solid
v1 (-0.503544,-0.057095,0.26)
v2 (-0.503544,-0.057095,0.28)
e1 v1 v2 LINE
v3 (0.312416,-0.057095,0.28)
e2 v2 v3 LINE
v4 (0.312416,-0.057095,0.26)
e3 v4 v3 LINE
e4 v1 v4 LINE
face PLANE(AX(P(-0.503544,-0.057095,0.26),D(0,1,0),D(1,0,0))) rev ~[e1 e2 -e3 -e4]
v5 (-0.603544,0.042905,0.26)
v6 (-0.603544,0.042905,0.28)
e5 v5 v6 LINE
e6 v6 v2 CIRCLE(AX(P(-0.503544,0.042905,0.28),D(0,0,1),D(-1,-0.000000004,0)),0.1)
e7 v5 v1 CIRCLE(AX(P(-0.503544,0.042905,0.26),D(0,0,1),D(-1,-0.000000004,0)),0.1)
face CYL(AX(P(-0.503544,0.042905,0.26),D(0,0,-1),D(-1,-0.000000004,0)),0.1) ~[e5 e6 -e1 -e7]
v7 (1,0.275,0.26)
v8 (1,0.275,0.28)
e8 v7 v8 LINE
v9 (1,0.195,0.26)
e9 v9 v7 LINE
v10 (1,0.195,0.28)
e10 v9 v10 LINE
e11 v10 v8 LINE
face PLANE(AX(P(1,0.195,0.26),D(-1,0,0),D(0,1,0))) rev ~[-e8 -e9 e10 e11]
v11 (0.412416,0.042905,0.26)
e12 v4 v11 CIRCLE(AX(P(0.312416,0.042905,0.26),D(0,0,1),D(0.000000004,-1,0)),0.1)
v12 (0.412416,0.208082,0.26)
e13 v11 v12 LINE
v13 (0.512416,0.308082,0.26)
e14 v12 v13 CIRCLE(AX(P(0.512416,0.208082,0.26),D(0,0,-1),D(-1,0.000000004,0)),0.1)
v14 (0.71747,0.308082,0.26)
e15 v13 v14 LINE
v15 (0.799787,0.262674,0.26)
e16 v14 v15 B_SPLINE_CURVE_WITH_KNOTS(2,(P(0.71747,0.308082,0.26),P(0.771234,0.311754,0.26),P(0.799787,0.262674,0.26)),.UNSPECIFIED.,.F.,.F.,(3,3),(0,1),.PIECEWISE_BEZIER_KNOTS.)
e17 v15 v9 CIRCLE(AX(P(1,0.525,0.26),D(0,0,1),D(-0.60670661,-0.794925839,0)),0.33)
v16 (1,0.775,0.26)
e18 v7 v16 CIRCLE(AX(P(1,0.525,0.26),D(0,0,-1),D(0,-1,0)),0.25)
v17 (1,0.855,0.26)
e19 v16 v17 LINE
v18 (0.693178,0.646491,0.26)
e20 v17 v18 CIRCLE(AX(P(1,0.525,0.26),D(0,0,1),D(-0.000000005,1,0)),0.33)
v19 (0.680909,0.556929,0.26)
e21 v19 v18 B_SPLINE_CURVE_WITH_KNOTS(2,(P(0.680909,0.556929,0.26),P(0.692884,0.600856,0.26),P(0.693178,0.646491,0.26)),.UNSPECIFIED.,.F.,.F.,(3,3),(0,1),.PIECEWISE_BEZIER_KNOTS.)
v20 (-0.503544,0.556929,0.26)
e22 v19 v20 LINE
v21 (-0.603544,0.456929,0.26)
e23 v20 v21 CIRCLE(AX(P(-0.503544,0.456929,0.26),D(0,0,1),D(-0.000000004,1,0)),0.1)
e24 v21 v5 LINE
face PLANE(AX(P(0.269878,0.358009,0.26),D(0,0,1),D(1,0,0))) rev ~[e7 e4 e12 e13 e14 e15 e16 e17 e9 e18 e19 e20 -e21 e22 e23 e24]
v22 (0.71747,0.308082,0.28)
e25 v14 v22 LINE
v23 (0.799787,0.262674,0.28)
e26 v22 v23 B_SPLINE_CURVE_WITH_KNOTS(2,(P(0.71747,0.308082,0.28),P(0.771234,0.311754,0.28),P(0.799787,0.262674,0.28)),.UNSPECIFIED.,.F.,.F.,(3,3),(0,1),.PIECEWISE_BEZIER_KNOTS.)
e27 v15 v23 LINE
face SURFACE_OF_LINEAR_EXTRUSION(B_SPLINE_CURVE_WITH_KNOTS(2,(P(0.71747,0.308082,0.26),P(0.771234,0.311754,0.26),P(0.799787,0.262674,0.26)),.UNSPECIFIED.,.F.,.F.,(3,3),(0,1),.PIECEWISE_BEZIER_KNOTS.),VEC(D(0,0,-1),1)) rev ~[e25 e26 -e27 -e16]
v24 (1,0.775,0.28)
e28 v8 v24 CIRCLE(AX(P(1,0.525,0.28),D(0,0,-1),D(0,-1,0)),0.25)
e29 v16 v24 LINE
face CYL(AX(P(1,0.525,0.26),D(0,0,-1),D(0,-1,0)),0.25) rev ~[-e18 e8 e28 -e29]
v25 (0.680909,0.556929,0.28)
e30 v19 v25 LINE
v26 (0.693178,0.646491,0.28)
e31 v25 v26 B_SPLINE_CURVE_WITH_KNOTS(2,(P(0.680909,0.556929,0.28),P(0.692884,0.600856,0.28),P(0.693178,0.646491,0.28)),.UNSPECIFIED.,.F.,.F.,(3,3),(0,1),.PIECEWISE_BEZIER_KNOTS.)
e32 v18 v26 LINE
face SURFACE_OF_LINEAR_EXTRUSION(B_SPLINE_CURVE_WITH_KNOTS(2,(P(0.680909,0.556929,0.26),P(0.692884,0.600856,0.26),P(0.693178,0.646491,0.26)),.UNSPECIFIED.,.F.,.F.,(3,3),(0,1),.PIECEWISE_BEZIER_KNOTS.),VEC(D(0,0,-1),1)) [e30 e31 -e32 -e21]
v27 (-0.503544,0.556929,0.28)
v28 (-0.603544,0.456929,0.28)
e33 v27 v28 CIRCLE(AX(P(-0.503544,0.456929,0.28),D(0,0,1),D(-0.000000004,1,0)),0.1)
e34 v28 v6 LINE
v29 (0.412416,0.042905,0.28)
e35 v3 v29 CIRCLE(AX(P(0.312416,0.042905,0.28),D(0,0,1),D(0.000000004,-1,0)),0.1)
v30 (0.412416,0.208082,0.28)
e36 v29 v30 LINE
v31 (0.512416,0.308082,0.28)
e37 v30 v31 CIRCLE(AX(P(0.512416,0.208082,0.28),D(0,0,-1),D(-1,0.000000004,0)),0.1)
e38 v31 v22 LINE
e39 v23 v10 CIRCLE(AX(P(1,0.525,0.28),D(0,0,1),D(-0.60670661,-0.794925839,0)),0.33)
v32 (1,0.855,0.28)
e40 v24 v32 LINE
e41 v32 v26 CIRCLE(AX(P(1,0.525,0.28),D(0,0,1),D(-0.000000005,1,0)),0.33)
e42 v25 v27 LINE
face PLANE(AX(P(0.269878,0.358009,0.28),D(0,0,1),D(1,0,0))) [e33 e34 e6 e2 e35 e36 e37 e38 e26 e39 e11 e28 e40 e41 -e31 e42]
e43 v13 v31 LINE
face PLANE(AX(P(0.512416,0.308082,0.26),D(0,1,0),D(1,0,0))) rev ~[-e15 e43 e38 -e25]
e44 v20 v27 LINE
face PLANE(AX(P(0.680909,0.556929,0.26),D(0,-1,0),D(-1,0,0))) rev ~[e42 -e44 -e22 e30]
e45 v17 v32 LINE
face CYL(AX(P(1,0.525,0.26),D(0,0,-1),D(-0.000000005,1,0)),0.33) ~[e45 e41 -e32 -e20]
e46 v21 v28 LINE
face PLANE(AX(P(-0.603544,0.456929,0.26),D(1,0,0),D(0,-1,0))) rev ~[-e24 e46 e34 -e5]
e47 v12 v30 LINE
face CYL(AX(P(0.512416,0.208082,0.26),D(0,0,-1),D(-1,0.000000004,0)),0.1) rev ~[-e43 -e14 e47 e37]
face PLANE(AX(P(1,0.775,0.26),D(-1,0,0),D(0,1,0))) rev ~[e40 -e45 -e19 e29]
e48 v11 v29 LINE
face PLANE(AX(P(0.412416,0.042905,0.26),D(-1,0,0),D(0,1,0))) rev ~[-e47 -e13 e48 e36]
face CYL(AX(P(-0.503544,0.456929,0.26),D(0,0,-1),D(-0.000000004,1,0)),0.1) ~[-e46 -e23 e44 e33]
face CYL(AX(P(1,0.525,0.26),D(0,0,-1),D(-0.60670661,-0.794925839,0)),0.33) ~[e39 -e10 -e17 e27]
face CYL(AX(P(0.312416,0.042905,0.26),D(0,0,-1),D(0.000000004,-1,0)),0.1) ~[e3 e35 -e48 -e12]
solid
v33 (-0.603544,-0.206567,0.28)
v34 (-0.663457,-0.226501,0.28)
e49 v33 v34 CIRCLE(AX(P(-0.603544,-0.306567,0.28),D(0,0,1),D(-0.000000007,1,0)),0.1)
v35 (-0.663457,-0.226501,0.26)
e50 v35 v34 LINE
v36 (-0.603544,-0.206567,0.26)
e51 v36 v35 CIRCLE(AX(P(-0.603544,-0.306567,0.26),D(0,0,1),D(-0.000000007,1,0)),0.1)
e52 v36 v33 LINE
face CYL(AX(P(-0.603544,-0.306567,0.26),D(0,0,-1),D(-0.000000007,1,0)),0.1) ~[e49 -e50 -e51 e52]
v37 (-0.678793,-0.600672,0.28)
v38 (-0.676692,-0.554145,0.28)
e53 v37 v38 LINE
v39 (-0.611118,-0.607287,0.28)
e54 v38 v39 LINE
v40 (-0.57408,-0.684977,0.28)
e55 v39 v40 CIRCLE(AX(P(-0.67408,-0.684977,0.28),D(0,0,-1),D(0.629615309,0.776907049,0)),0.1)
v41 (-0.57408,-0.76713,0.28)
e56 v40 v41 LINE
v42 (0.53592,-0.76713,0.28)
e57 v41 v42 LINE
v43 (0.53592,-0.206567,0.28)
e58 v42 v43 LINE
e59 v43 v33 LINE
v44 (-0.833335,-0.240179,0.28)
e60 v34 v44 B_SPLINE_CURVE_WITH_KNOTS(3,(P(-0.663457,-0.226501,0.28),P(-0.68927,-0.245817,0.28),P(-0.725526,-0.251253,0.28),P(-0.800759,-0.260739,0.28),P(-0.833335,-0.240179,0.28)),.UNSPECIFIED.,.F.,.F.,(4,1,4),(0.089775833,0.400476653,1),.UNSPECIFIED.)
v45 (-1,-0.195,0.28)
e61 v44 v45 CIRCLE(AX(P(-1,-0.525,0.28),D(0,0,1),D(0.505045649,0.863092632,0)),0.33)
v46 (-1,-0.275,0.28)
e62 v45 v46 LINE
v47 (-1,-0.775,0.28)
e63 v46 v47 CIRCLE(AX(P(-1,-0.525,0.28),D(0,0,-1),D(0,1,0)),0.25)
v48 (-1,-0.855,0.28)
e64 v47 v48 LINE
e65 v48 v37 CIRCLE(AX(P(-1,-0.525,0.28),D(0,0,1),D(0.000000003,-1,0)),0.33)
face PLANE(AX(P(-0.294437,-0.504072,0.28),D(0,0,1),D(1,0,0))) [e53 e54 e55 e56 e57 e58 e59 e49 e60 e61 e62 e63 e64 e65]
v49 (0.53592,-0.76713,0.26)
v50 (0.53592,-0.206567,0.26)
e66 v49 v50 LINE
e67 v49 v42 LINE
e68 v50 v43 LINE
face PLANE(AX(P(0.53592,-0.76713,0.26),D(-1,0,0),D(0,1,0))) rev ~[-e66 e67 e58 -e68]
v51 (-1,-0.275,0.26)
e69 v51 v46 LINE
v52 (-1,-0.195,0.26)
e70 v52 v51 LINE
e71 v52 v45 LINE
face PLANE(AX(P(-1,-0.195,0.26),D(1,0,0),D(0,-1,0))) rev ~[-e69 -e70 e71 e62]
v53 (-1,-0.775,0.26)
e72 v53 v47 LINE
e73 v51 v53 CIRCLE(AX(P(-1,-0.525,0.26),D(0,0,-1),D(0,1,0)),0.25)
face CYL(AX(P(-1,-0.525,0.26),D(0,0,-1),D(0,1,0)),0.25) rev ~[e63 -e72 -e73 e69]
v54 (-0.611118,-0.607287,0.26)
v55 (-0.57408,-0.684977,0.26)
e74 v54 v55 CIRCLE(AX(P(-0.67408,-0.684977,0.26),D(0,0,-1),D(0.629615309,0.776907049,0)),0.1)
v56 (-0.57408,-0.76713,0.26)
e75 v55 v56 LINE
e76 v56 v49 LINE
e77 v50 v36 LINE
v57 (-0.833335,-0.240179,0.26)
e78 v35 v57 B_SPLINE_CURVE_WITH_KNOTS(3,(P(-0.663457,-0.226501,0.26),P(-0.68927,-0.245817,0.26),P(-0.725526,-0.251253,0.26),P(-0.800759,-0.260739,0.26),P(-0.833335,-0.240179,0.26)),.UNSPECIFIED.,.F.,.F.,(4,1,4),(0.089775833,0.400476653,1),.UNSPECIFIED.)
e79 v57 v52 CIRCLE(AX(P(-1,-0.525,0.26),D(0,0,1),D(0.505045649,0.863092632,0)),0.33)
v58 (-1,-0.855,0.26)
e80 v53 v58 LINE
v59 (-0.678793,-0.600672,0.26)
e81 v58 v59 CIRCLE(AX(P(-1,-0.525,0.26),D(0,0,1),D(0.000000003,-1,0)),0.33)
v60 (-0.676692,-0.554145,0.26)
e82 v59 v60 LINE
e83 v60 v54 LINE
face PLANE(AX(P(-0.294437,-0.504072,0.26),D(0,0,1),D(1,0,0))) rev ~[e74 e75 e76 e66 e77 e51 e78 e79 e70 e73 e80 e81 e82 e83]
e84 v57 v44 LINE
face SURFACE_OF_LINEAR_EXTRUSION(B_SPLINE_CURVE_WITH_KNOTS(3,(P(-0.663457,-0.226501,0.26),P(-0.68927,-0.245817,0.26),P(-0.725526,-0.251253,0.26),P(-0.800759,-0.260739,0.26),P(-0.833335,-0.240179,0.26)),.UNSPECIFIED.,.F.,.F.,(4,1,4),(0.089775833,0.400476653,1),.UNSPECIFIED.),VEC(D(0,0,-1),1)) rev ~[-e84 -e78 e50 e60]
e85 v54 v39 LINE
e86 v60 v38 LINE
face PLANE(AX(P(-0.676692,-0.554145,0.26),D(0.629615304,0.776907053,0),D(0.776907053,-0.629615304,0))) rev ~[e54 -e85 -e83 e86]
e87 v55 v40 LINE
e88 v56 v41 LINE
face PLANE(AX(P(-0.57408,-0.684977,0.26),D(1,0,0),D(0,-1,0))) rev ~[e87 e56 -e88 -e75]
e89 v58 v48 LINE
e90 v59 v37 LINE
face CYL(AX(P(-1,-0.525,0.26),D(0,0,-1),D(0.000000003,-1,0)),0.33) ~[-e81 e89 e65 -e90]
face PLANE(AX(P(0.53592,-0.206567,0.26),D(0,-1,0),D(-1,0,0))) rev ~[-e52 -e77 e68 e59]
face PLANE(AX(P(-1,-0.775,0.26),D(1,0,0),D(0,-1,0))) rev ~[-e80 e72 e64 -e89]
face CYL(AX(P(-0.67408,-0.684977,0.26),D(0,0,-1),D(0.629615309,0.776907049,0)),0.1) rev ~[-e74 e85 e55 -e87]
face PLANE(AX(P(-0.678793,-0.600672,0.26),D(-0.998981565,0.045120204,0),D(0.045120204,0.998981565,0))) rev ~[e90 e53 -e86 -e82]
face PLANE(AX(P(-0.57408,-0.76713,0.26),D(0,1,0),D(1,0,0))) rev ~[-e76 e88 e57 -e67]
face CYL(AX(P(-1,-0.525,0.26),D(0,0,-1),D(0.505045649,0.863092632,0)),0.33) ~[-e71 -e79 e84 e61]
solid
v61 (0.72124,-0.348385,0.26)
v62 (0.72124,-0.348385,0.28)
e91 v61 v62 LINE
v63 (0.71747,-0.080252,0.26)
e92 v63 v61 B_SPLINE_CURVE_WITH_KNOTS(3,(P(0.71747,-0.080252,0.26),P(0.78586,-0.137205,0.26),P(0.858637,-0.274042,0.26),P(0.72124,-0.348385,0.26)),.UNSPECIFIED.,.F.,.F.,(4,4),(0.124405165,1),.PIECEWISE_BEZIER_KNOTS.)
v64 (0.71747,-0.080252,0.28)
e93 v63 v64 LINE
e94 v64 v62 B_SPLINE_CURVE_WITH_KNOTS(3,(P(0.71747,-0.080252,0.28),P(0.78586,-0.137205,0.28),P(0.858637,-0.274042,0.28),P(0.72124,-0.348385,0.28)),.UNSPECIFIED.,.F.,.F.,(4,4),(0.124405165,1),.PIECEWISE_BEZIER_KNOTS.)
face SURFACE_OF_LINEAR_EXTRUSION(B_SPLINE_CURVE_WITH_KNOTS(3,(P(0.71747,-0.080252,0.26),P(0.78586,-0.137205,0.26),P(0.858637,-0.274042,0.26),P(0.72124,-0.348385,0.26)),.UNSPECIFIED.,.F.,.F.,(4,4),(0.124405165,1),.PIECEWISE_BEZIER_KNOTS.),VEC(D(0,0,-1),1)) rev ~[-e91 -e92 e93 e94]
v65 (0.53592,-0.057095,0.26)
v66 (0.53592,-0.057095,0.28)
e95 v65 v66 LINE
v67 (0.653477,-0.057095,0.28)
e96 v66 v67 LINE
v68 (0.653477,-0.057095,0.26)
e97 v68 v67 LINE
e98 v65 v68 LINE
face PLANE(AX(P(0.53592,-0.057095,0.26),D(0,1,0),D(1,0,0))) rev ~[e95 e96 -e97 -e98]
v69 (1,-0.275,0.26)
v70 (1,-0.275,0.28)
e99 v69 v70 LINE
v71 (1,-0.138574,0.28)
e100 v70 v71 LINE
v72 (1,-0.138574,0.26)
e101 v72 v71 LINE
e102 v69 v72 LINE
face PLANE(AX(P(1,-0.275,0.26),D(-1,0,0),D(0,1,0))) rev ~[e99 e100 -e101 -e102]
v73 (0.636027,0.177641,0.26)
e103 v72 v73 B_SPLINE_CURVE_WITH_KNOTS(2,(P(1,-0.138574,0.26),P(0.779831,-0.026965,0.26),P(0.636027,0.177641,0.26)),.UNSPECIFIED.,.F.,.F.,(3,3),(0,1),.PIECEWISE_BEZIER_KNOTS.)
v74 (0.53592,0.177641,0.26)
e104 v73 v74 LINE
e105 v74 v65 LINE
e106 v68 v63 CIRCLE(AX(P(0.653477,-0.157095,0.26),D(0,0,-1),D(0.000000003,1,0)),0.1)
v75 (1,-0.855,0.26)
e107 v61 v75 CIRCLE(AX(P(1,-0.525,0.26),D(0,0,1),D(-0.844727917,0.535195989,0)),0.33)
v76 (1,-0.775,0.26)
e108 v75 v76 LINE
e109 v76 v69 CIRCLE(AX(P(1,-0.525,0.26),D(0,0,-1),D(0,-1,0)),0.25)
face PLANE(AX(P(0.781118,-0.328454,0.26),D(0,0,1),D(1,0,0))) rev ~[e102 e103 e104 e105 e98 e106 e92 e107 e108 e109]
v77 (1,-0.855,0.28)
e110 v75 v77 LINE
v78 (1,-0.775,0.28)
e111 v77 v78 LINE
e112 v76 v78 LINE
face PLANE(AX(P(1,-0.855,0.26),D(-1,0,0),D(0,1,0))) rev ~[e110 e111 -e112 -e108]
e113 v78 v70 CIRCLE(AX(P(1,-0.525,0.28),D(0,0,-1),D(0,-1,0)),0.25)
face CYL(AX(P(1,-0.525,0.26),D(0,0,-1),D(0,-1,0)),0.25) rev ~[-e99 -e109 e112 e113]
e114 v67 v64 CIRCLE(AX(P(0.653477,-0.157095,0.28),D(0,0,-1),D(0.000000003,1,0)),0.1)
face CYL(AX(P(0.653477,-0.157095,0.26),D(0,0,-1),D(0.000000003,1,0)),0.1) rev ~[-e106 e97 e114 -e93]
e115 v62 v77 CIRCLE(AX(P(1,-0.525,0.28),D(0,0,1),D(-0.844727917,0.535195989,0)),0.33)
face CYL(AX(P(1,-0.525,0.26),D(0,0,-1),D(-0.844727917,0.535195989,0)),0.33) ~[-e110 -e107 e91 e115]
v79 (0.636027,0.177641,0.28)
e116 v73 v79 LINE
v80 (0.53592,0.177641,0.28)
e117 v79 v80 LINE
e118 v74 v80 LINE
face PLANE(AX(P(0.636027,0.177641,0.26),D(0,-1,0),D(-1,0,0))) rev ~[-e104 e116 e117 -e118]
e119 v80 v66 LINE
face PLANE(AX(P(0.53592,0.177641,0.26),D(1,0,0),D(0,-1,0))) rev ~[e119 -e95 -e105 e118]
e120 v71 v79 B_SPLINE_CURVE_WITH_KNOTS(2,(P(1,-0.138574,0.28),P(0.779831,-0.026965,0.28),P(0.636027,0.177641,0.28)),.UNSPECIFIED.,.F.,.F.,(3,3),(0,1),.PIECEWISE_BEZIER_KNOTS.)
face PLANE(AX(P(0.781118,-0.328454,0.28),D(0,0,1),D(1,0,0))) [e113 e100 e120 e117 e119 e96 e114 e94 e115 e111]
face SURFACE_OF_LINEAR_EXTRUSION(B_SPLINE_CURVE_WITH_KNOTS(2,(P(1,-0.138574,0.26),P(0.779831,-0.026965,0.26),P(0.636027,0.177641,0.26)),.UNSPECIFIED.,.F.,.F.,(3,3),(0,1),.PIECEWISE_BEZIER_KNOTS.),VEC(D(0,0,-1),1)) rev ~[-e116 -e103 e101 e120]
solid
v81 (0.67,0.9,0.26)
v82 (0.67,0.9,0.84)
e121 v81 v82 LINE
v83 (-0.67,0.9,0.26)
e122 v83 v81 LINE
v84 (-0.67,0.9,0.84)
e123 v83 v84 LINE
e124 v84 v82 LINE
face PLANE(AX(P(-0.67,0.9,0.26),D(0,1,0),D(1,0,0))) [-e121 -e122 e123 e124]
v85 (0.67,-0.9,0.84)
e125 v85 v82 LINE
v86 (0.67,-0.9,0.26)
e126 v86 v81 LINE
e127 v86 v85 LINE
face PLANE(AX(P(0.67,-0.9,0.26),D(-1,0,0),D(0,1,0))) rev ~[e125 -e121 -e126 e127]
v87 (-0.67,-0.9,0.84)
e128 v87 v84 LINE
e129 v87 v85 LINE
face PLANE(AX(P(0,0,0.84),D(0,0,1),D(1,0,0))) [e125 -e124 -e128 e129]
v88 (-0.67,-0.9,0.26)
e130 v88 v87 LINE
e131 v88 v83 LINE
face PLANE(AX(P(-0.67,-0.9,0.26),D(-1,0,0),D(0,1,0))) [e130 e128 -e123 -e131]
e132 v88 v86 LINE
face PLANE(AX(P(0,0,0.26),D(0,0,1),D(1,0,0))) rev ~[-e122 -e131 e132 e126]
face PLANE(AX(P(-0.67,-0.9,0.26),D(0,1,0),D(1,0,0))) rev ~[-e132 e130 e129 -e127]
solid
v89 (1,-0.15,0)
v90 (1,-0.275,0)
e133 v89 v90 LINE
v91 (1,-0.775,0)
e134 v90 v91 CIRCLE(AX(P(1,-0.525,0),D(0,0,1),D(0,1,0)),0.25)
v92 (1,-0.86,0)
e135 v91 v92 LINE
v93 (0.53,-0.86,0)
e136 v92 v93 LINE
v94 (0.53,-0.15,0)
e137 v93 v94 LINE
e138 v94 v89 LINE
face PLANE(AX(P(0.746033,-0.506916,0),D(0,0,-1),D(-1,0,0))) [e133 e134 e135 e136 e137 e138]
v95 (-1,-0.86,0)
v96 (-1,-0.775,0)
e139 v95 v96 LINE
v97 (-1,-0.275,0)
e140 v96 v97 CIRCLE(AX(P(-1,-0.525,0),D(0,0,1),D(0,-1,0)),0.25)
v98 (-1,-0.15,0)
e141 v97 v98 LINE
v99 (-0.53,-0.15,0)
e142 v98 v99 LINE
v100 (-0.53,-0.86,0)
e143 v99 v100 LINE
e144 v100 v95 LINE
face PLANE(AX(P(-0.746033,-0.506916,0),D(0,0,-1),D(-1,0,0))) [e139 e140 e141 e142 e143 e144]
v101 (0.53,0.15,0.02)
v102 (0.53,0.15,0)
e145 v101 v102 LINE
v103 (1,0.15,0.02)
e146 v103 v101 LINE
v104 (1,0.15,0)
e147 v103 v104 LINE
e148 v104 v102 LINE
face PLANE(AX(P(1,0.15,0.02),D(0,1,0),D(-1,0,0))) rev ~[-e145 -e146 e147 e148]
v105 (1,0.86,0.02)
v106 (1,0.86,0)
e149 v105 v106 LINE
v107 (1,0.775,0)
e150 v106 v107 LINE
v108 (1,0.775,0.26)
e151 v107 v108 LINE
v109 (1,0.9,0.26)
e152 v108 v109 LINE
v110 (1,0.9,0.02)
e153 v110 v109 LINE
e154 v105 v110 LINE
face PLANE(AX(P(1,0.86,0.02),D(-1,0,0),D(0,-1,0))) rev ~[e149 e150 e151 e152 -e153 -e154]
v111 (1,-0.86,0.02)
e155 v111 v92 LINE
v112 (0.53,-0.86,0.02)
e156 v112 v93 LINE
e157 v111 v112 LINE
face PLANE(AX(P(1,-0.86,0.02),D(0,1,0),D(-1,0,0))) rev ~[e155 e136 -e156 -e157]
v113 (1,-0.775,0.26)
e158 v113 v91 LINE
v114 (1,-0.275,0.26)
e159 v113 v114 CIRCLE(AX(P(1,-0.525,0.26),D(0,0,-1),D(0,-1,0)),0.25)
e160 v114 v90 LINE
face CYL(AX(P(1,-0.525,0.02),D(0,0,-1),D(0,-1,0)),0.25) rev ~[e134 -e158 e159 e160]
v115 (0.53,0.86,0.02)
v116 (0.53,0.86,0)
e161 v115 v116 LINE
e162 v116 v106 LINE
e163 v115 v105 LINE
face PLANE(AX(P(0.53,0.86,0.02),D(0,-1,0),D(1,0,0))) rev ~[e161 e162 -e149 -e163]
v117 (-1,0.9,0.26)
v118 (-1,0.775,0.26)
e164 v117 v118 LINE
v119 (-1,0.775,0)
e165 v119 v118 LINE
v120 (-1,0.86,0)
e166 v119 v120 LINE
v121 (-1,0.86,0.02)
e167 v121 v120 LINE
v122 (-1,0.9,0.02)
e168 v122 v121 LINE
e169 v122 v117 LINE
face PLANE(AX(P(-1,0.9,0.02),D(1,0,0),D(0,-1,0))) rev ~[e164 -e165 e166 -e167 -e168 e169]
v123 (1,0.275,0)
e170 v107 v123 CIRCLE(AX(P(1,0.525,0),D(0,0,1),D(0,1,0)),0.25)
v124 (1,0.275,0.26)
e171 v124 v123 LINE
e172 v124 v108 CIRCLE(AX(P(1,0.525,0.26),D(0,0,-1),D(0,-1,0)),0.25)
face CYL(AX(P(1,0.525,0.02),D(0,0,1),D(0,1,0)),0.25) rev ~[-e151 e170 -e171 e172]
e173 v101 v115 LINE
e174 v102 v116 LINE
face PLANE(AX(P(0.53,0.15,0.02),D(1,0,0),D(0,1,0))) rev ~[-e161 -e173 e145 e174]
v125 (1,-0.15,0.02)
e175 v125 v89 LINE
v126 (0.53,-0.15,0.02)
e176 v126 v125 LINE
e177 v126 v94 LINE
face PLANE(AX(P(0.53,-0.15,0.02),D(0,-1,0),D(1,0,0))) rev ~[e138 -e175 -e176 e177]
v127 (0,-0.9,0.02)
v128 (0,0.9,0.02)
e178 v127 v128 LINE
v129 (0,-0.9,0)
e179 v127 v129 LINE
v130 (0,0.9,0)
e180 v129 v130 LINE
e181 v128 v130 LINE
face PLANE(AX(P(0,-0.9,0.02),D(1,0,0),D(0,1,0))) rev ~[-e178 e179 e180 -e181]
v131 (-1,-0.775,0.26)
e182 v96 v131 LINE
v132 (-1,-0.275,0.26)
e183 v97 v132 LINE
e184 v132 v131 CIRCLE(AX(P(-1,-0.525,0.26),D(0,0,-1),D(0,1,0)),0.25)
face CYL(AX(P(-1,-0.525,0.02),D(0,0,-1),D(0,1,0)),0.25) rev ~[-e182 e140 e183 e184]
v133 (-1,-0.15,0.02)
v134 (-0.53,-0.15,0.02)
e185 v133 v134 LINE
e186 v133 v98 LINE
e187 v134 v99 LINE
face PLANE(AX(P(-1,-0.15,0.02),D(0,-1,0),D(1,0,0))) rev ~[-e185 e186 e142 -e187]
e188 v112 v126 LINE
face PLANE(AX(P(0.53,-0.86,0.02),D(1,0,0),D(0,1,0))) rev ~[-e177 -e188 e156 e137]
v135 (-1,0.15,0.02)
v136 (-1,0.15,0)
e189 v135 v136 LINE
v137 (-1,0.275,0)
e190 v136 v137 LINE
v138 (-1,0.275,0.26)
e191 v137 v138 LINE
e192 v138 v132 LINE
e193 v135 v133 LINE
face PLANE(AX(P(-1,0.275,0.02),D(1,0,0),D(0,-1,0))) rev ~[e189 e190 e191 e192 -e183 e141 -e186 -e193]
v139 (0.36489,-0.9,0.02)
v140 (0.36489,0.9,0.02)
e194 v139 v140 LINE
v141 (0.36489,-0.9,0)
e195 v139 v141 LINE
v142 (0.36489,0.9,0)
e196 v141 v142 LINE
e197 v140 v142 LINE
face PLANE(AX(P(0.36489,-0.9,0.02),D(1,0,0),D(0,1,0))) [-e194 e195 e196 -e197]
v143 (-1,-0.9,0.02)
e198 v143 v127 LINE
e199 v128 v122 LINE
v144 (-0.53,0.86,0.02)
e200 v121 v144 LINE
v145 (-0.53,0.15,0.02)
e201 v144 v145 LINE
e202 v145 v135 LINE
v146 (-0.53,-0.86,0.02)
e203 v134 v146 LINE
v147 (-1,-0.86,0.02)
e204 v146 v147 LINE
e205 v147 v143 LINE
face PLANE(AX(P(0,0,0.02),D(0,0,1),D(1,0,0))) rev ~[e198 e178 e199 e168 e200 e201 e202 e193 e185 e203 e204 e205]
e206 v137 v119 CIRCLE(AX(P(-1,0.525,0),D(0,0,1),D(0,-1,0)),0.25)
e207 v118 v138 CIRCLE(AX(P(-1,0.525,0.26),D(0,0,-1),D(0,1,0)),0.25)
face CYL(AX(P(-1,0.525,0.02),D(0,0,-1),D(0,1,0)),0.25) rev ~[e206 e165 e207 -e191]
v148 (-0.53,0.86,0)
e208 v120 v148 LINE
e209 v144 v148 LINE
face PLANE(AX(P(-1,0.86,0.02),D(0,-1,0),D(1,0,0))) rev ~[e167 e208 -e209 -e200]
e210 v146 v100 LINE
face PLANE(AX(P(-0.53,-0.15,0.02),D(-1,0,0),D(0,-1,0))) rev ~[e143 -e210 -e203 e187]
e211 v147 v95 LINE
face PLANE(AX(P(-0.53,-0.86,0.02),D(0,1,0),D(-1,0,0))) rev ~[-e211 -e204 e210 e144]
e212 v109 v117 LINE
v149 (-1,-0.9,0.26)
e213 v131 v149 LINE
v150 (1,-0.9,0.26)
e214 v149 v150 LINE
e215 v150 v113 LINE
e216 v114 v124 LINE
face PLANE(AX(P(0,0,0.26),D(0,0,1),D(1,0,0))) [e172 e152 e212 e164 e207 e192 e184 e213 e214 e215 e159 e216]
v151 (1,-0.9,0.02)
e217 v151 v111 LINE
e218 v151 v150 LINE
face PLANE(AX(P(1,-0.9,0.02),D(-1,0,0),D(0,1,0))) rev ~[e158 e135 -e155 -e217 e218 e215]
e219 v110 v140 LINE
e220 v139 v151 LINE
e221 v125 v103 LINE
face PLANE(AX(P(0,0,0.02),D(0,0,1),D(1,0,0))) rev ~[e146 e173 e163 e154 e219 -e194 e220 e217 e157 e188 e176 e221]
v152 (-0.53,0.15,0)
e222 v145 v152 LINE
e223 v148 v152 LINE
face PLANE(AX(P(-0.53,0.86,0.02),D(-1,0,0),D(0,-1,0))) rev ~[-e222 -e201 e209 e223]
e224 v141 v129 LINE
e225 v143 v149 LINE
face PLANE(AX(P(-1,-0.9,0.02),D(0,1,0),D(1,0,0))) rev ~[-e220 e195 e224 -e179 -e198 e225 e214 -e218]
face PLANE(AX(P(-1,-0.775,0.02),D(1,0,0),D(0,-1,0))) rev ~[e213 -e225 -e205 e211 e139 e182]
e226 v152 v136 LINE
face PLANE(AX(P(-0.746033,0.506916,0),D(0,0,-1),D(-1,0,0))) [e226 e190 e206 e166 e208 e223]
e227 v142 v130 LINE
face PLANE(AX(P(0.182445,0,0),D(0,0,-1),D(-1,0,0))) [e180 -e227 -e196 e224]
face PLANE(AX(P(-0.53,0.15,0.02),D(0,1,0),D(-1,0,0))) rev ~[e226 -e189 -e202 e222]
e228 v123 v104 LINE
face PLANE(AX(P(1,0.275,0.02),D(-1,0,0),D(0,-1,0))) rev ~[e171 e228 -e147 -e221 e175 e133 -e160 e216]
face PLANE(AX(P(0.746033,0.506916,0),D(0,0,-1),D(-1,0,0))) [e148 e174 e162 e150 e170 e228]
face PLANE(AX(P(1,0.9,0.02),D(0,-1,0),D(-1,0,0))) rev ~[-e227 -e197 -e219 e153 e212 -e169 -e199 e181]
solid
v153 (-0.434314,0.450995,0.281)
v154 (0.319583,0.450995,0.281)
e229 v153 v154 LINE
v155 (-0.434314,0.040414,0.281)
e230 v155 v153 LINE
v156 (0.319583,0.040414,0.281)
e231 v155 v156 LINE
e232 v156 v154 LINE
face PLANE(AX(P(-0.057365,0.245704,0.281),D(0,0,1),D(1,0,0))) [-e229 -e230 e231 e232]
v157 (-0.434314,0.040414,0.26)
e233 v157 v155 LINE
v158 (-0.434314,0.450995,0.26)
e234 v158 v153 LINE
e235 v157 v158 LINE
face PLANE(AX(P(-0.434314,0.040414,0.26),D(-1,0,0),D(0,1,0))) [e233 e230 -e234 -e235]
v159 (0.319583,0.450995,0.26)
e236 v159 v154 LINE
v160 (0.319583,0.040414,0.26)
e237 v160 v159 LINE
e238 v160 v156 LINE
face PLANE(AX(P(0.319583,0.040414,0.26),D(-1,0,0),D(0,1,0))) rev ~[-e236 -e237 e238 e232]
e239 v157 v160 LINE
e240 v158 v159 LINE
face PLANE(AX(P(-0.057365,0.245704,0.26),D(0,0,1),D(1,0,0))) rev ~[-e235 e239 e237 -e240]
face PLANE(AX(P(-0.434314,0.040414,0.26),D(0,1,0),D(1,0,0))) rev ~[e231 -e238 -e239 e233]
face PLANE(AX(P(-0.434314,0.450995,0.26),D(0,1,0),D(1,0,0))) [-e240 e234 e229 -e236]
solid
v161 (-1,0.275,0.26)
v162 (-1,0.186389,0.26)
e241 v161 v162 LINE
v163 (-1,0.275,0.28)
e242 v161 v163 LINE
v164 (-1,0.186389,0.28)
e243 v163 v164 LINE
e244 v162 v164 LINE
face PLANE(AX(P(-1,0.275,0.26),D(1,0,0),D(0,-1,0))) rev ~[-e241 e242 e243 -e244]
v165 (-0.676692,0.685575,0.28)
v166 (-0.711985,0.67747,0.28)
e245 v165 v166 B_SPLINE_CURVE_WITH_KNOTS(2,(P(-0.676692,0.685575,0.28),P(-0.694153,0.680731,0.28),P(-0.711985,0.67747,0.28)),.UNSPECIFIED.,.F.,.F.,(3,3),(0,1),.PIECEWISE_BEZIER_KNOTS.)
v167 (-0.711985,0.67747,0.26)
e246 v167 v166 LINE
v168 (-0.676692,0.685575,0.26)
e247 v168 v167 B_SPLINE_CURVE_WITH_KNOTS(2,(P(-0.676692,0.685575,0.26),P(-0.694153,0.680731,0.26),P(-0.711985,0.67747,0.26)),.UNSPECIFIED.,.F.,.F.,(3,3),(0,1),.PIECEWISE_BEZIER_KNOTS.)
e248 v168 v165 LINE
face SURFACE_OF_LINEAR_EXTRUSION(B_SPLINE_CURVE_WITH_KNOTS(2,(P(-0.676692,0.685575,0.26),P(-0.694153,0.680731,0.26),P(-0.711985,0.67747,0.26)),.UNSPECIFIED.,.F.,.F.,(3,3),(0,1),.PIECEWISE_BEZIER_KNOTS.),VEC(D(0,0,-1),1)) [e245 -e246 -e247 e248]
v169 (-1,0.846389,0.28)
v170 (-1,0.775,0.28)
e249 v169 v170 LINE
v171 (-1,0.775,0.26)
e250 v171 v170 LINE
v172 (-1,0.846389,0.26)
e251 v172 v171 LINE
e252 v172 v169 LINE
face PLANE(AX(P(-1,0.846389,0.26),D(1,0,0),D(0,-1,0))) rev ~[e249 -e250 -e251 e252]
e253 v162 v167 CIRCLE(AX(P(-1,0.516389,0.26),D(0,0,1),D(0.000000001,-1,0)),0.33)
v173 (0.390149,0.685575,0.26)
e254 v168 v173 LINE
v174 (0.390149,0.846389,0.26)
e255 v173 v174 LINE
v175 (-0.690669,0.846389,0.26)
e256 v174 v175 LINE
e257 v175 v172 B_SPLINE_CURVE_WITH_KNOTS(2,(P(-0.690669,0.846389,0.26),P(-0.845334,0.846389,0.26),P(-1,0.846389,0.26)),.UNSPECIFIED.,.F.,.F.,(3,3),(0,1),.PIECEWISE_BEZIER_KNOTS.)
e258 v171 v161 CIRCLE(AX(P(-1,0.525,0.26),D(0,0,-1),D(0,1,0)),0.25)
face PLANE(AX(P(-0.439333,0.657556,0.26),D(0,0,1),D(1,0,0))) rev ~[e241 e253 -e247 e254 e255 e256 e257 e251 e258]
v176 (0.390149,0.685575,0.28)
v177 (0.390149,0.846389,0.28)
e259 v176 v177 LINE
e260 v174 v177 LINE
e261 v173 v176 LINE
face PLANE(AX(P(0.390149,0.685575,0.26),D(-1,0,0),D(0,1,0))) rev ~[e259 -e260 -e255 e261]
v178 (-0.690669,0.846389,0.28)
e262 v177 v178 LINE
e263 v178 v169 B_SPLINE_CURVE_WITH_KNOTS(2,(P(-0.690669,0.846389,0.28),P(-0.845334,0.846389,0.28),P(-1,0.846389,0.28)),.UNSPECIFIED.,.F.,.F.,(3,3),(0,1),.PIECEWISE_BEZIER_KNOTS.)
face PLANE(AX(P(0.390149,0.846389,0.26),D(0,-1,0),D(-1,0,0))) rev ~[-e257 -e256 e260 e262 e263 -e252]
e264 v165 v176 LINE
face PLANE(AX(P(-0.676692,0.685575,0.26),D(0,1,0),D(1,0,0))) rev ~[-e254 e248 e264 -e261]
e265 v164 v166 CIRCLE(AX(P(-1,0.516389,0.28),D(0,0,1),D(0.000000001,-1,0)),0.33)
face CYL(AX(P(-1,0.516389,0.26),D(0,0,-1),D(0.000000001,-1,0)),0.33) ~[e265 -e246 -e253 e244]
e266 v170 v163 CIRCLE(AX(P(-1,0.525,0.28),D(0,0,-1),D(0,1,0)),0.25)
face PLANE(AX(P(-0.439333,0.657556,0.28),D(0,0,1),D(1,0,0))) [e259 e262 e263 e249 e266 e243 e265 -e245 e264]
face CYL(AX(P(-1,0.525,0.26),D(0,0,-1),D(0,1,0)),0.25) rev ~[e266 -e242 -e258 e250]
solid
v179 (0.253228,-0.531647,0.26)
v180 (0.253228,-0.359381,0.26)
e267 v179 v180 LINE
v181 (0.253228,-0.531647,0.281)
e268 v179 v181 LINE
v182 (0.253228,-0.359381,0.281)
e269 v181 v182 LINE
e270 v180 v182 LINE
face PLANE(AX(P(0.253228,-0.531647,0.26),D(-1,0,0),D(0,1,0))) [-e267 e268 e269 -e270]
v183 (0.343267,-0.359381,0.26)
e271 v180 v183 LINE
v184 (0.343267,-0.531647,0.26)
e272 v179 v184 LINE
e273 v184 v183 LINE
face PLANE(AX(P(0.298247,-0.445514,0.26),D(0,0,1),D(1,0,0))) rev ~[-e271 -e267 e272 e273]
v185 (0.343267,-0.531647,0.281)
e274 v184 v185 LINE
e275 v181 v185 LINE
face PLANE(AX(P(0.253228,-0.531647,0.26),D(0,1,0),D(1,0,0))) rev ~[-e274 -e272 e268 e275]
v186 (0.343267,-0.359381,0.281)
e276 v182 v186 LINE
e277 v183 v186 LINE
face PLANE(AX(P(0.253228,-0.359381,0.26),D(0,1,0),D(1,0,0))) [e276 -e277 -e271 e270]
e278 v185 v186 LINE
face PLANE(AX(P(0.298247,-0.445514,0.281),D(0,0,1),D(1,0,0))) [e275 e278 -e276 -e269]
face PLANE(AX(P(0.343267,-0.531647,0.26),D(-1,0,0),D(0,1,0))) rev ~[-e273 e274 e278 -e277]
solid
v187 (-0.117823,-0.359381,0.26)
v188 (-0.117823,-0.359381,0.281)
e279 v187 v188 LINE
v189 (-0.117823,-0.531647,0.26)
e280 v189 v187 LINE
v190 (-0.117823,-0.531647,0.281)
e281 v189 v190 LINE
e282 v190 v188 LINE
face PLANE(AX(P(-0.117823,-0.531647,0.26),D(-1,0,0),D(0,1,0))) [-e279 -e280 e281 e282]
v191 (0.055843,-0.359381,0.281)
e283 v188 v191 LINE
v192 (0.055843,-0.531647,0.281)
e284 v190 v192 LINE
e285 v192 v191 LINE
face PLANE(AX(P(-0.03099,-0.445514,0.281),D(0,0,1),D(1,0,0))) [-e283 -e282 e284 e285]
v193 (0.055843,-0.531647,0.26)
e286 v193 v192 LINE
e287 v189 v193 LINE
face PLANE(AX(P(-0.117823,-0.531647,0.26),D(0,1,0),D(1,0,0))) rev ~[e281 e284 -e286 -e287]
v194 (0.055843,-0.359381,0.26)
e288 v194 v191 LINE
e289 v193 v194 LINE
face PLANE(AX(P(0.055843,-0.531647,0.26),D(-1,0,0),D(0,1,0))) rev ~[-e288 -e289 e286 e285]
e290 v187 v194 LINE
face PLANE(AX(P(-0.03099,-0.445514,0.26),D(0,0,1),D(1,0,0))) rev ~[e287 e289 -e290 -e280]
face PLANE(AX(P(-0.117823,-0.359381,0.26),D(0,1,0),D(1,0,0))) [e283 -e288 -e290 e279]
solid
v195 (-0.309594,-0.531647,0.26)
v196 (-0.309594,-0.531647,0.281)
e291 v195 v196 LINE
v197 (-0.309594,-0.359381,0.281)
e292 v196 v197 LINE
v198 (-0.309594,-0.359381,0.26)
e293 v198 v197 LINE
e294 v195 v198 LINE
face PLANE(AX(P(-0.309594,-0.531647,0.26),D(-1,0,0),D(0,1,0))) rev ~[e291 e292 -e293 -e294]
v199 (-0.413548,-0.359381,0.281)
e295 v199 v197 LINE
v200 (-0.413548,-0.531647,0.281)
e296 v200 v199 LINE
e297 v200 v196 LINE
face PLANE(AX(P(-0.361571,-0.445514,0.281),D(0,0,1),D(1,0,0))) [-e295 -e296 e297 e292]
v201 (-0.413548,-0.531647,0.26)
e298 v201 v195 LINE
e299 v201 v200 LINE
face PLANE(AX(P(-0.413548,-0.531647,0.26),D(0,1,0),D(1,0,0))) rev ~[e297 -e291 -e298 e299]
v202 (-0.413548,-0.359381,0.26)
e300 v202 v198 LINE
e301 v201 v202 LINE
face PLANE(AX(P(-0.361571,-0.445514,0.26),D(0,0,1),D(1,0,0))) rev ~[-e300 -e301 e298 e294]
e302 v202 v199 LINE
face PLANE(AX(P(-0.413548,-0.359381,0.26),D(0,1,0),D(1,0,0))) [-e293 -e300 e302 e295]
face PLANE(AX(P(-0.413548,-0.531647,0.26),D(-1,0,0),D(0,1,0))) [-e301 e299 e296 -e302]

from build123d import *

# Parameters (mm, degrees)
BOSS_EXTRUDE1_DEPTH   = 0.24
SKETCH3_W             = 0.364889656
SKETCH3_H             = 1.8
BOSS_EXTRUDE2_DEPTH   = 0.02
BOSS_EXTRUDE3_DEPTH   = 0.02
BOSS_EXTRUDE3_2_DEPTH = 0.02
BOSS_EXTRUDE3_3_DEPTH = 0.02
BOSS_EXTRUDE3_4_DEPTH = 0.02
SKETCH5_W             = 0.753896915
SKETCH5_H             = 0.410580729
BOSS_EXTRUDE4_DEPTH   = 0.021
SKETCH5_W_2           = 0.173666543
SKETCH5_H_2           = 0.172266029
BOSS_EXTRUDE4_2_DEPTH = 0.021
SKETCH5_W_3           = 0.103954437
BOSS_EXTRUDE4_3_DEPTH = 0.021
SKETCH5_W_4           = 0.090039485
BOSS_EXTRUDE4_4_DEPTH = 0.021
SKETCH6_W             = 1.34
SKETCH6_H             = 1.8
BOSS_EXTRUDE5_DEPTH   = 0.58


with BuildPart() as part:
    # Sketch2 → Boss-Extrude1 (new body)
    with BuildSketch(Plane(origin=(0, 0, 0.02), x_dir=(-1, 0, 0), z_dir=(0, 0, -1))):
        with BuildLine():
            Line((1, -0.9), (-1, -0.9))
            Line((-1, -0.9), (-1, -0.775))
            ThreePointArc((-1, -0.775), (-0.75, -0.525), (-1, -0.275))
            Line((-1, -0.275), (-1, 0.275))
            ThreePointArc((-1, 0.275), (-0.75, 0.525), (-1, 0.775))
            Line((-1, 0.775), (-1, 0.9))
            Line((-1, 0.9), (1, 0.9))
            Line((1, 0.9), (1, 0.775))
            ThreePointArc((1, 0.775), (0.75, 0.525), (1, 0.275))
            Line((1, 0.275), (1, -0.275))
            ThreePointArc((1, -0.275), (0.75, -0.525), (1, -0.775))
            Line((1, -0.775), (1, -0.9))
        make_face()
    extrude(amount=-BOSS_EXTRUDE1_DEPTH)

    # Sketch3 → Boss-Extrude2 (add)
    with BuildSketch(Plane(origin=(0, 0, 0.02), x_dir=(-1, 0, 0), z_dir=(0, 0, -1))):
        with BuildLine():
            ThreePointArc((-1, 0.775), (-0.75, 0.525), (-1, 0.275))
            Line((-1, 0.275), (-1, 0.15))
            Line((-1, 0.15), (-0.53, 0.15))
            Line((-0.53, 0.15), (-0.53, 0.86))
            Line((-0.53, 0.86), (-1, 0.86))
            Line((-1, 0.86), (-1, 0.775))
        make_face()
        with BuildLine():
            Line((1, 0.775), (1, 0.86))
            Line((1, 0.86), (0.53, 0.86))
            Line((0.53, 0.86), (0.53, 0.15))
            Line((0.53, 0.15), (1, 0.15))
            Line((1, 0.15), (1, 0.275))
            ThreePointArc((1, 0.275), (0.75, 0.525), (1, 0.775))
        make_face()
        with BuildLine():
            Line((0.53, -0.86), (1, -0.86))
            Line((1, -0.86), (1, -0.775))
            ThreePointArc((1, -0.775), (0.75, -0.525), (1, -0.275))
            Line((1, -0.275), (1, -0.15))
            Line((1, -0.15), (0.53, -0.15))
            Line((0.53, -0.15), (0.53, -0.86))
        make_face()
        with BuildLine():
            Line((-0.53, -0.15), (-1, -0.15))
            Line((-1, -0.15), (-1, -0.275))
            ThreePointArc((-1, -0.275), (-0.75, -0.525), (-1, -0.775))
            Line((-1, -0.775), (-1, -0.86))
            Line((-1, -0.86), (-0.53, -0.86))
            Line((-0.53, -0.86), (-0.53, -0.15))
        make_face()
        with Locations((-0.182444828, 0)):
            Rectangle(SKETCH3_W, SKETCH3_H)
    extrude(amount=BOSS_EXTRUDE2_DEPTH)


with BuildPart() as body_2:
    # Sketch4 → Boss-Extrude3 (new body)
    with BuildSketch(Plane.XY.offset(0.26)):
        with BuildLine():
            Line((0.390148762, 0.846389186), (-0.69066899, 0.846389186))
            add(Edge.make_bspline(
                [(-0.69066899, 0.846389186), (-0.845334495, 0.846389186), (-1, 0.846389186)],
                knots=[0, 0, 0, 1, 1, 1], degree=2))
            Line((-1, 0.846389186), (-1, 0.775))
            ThreePointArc((-1, 0.775), (-0.75, 0.525), (-1, 0.275))
            Line((-1, 0.275), (-1, 0.186389186))
            ThreePointArc((-1, 0.186389186), (-0.715345164, 0.349441217), (-0.711984565, 0.677470251))
            add(Edge.make_bspline(
                [(-0.676691892, 0.685575063), (-0.694152628, 0.680731002), (-0.711984565, 0.677470251)],
                knots=[0, 0, 0, 1, 1, 1], degree=2))
            Line((-0.676691892, 0.685575063), (0.390148762, 0.685575063))
            Line((0.390148762, 0.685575063), (0.390148762, 0.846389186))
        make_face()
    extrude(amount=BOSS_EXTRUDE3_DEPTH)


with BuildPart() as body_3:
    # Sketch4 → Boss-Extrude3 2 (new body)
    with BuildSketch(Plane.XY.offset(0.26)):
        with BuildLine():
            Line((1, 0.775), (1, 0.855))
            ThreePointArc((1, 0.855), (0.814516991, 0.797939651), (0.69317777, 0.646491232))
            add(Edge.make_bspline(
                [(0.680908874, 0.556929298), (0.69288427, 0.60085648), (0.69317777, 0.646491232)],
                knots=[0, 0, 0, 1, 1, 1], degree=2))
            Line((0.680908874, 0.556929298), (-0.503543763, 0.556929298))
            ThreePointArc((-0.503543763, 0.556929298), (-0.574254441, 0.527639976), (-0.603543763, 0.456929298))
            Line((-0.603543763, 0.456929298), (-0.603543763, 0.04290495))
            ThreePointArc((-0.603543763, 0.04290495), (-0.574254441, -0.027805728), (-0.503543763, -0.05709505))
            Line((-0.503543763, -0.05709505), (0.312415517, -0.05709505))
            ThreePointArc((0.312415517, -0.05709505), (0.383126195, -0.027805728), (0.412415517, 0.04290495))
            Line((0.412415517, 0.04290495), (0.412415517, 0.208081796))
            ThreePointArc((0.412415517, 0.208081796), (0.441704839, 0.278792474), (0.512415517, 0.308081796))
            Line((0.512415517, 0.308081796), (0.717469575, 0.308081796))
            add(Edge.make_bspline(
                [(0.717469575, 0.308081796), (0.771233684, 0.311754034), (0.799786818, 0.262674474)],
                knots=[0, 0, 0, 1, 1, 1], degree=2))
            ThreePointArc((0.799786818, 0.262674474), (0.894329341, 0.212376086), (1, 0.195))
            Line((1, 0.195), (1, 0.275))
            ThreePointArc((1, 0.275), (0.75, 0.525), (1, 0.775))
        make_face()
    extrude(amount=BOSS_EXTRUDE3_2_DEPTH)


with BuildPart() as body_4:
    # Sketch4 → Boss-Extrude3 3 (new body)
    with BuildSketch(Plane.XY.offset(0.26)):
        with BuildLine():
            ThreePointArc((-0.833334938, -0.24017943), (-0.91365994, -0.206495064), (-1, -0.195))
            Line((-1, -0.195), (-1, -0.275))
            ThreePointArc((-1, -0.275), (-0.75, -0.525), (-1, -0.775))
            Line((-1, -0.775), (-1, -0.855))
            ThreePointArc((-1, -0.855), (-0.795148632, -0.783719765), (-0.678793346, -0.600672224))
            Line((-0.678793346, -0.600672224), (-0.676691892, -0.554145089))
            Line((-0.676691892, -0.554145089), (-0.611118313, -0.607286747))
            ThreePointArc((-0.611118313, -0.607286747), (-0.583813147, -0.641943472), (-0.574079844, -0.684977452))
            Line((-0.574079844, -0.684977452), (-0.574079844, -0.767129551))
            Line((-0.574079844, -0.767129551), (0.535920392, -0.767129551))
            Line((0.535920392, -0.767129551), (0.535920392, -0.20656652))
            Line((0.535920392, -0.20656652), (-0.603543763, -0.20656652))
            ThreePointArc((-0.603543763, -0.20656652), (-0.635114964, -0.211681014), (-0.66345675, -0.226501334))
            add(Edge.make_bspline(
                [(-0.66345675, -0.226501334), (-0.689269713, -0.245817241), (-0.725525791, -0.251252887), (-0.800759226, -0.260738541), (-0.833334938, -0.24017943)],
                knots=[0.089775833, 0.089775833, 0.089775833, 0.089775833, 0.400476653, 1, 1, 1, 1], degree=3))
        make_face()
    extrude(amount=BOSS_EXTRUDE3_3_DEPTH)


with BuildPart() as body_5:
    # Sketch4 → Boss-Extrude3 4 (new body)
    with BuildSketch(Plane.XY.offset(0.26)):
        with BuildLine():
            Line((1, -0.275), (1, -0.138574493))
            add(Edge.make_bspline(
                [(1, -0.138574493), (0.779830968, -0.026964761), (0.636027007, 0.177640765)],
                knots=[0, 0, 0, 1, 1, 1], degree=2))
            Line((0.636027007, 0.177640765), (0.535920392, 0.177640765))
            Line((0.535920392, 0.177640765), (0.535920392, -0.05709505))
            Line((0.535920392, -0.05709505), (0.653476764, -0.05709505))
            ThreePointArc((0.653476764, -0.05709505), (0.687503608, -0.063062216), (0.717469575, -0.080251572))
            add(Edge.make_bspline(
                [(0.717469575, -0.080251572), (0.785860125, -0.137205052), (0.858637114, -0.27404228), (0.721239787, -0.348385325)],
                knots=[0.124405165, 0.124405165, 0.124405165, 0.124405165, 1, 1, 1, 1], degree=3))
            ThreePointArc((0.721239787, -0.348385325), (0.710878189, -0.684086702), (1, -0.855))
            Line((1, -0.855), (1, -0.775))
            ThreePointArc((1, -0.775), (0.75, -0.525), (1, -0.275))
        make_face()
    extrude(amount=BOSS_EXTRUDE3_4_DEPTH)


with BuildPart() as body_6:
    # Sketch5 → Boss-Extrude4 (new body)
    with BuildSketch(Plane.XY.offset(0.26)):
        with Locations((-0.057365299, 0.245704269)):
            Rectangle(SKETCH5_W, SKETCH5_H)
    extrude(amount=BOSS_EXTRUDE4_DEPTH)


with BuildPart() as body_7:
    # Sketch5 → Boss-Extrude4 2 (new body)
    with BuildSketch(Plane.XY.offset(0.26)):
        with Locations((-0.030990211, -0.445513551)):
            Rectangle(SKETCH5_W_2, SKETCH5_H_2)
    extrude(amount=BOSS_EXTRUDE4_2_DEPTH)


with BuildPart() as body_8:
    # Sketch5 → Boss-Extrude4 3 (new body)
    with BuildSketch(Plane.XY.offset(0.26)):
        with Locations((-0.361571177, -0.445513551)):
            Rectangle(SKETCH5_W_3, SKETCH5_H_2)
    extrude(amount=BOSS_EXTRUDE4_3_DEPTH)


with BuildPart() as body_9:
    # Sketch5 → Boss-Extrude4 4 (new body)
    with BuildSketch(Plane.XY.offset(0.26)):
        with Locations((0.298247329, -0.445513551)):
            Rectangle(SKETCH5_W_4, SKETCH5_H_2)
    extrude(amount=BOSS_EXTRUDE4_4_DEPTH)


with BuildPart() as body_10:
    # Sketch6 → Boss-Extrude5 (new body)
    with BuildSketch(Plane.XY.offset(0.26)):
        Rectangle(SKETCH6_W, SKETCH6_H)
    extrude(amount=BOSS_EXTRUDE5_DEPTH)


solid = Compound([part.part, body_2.part, body_3.part, body_4.part, body_5.part, body_6.part, body_7.part, body_8.part, body_9.part, body_10.part])
